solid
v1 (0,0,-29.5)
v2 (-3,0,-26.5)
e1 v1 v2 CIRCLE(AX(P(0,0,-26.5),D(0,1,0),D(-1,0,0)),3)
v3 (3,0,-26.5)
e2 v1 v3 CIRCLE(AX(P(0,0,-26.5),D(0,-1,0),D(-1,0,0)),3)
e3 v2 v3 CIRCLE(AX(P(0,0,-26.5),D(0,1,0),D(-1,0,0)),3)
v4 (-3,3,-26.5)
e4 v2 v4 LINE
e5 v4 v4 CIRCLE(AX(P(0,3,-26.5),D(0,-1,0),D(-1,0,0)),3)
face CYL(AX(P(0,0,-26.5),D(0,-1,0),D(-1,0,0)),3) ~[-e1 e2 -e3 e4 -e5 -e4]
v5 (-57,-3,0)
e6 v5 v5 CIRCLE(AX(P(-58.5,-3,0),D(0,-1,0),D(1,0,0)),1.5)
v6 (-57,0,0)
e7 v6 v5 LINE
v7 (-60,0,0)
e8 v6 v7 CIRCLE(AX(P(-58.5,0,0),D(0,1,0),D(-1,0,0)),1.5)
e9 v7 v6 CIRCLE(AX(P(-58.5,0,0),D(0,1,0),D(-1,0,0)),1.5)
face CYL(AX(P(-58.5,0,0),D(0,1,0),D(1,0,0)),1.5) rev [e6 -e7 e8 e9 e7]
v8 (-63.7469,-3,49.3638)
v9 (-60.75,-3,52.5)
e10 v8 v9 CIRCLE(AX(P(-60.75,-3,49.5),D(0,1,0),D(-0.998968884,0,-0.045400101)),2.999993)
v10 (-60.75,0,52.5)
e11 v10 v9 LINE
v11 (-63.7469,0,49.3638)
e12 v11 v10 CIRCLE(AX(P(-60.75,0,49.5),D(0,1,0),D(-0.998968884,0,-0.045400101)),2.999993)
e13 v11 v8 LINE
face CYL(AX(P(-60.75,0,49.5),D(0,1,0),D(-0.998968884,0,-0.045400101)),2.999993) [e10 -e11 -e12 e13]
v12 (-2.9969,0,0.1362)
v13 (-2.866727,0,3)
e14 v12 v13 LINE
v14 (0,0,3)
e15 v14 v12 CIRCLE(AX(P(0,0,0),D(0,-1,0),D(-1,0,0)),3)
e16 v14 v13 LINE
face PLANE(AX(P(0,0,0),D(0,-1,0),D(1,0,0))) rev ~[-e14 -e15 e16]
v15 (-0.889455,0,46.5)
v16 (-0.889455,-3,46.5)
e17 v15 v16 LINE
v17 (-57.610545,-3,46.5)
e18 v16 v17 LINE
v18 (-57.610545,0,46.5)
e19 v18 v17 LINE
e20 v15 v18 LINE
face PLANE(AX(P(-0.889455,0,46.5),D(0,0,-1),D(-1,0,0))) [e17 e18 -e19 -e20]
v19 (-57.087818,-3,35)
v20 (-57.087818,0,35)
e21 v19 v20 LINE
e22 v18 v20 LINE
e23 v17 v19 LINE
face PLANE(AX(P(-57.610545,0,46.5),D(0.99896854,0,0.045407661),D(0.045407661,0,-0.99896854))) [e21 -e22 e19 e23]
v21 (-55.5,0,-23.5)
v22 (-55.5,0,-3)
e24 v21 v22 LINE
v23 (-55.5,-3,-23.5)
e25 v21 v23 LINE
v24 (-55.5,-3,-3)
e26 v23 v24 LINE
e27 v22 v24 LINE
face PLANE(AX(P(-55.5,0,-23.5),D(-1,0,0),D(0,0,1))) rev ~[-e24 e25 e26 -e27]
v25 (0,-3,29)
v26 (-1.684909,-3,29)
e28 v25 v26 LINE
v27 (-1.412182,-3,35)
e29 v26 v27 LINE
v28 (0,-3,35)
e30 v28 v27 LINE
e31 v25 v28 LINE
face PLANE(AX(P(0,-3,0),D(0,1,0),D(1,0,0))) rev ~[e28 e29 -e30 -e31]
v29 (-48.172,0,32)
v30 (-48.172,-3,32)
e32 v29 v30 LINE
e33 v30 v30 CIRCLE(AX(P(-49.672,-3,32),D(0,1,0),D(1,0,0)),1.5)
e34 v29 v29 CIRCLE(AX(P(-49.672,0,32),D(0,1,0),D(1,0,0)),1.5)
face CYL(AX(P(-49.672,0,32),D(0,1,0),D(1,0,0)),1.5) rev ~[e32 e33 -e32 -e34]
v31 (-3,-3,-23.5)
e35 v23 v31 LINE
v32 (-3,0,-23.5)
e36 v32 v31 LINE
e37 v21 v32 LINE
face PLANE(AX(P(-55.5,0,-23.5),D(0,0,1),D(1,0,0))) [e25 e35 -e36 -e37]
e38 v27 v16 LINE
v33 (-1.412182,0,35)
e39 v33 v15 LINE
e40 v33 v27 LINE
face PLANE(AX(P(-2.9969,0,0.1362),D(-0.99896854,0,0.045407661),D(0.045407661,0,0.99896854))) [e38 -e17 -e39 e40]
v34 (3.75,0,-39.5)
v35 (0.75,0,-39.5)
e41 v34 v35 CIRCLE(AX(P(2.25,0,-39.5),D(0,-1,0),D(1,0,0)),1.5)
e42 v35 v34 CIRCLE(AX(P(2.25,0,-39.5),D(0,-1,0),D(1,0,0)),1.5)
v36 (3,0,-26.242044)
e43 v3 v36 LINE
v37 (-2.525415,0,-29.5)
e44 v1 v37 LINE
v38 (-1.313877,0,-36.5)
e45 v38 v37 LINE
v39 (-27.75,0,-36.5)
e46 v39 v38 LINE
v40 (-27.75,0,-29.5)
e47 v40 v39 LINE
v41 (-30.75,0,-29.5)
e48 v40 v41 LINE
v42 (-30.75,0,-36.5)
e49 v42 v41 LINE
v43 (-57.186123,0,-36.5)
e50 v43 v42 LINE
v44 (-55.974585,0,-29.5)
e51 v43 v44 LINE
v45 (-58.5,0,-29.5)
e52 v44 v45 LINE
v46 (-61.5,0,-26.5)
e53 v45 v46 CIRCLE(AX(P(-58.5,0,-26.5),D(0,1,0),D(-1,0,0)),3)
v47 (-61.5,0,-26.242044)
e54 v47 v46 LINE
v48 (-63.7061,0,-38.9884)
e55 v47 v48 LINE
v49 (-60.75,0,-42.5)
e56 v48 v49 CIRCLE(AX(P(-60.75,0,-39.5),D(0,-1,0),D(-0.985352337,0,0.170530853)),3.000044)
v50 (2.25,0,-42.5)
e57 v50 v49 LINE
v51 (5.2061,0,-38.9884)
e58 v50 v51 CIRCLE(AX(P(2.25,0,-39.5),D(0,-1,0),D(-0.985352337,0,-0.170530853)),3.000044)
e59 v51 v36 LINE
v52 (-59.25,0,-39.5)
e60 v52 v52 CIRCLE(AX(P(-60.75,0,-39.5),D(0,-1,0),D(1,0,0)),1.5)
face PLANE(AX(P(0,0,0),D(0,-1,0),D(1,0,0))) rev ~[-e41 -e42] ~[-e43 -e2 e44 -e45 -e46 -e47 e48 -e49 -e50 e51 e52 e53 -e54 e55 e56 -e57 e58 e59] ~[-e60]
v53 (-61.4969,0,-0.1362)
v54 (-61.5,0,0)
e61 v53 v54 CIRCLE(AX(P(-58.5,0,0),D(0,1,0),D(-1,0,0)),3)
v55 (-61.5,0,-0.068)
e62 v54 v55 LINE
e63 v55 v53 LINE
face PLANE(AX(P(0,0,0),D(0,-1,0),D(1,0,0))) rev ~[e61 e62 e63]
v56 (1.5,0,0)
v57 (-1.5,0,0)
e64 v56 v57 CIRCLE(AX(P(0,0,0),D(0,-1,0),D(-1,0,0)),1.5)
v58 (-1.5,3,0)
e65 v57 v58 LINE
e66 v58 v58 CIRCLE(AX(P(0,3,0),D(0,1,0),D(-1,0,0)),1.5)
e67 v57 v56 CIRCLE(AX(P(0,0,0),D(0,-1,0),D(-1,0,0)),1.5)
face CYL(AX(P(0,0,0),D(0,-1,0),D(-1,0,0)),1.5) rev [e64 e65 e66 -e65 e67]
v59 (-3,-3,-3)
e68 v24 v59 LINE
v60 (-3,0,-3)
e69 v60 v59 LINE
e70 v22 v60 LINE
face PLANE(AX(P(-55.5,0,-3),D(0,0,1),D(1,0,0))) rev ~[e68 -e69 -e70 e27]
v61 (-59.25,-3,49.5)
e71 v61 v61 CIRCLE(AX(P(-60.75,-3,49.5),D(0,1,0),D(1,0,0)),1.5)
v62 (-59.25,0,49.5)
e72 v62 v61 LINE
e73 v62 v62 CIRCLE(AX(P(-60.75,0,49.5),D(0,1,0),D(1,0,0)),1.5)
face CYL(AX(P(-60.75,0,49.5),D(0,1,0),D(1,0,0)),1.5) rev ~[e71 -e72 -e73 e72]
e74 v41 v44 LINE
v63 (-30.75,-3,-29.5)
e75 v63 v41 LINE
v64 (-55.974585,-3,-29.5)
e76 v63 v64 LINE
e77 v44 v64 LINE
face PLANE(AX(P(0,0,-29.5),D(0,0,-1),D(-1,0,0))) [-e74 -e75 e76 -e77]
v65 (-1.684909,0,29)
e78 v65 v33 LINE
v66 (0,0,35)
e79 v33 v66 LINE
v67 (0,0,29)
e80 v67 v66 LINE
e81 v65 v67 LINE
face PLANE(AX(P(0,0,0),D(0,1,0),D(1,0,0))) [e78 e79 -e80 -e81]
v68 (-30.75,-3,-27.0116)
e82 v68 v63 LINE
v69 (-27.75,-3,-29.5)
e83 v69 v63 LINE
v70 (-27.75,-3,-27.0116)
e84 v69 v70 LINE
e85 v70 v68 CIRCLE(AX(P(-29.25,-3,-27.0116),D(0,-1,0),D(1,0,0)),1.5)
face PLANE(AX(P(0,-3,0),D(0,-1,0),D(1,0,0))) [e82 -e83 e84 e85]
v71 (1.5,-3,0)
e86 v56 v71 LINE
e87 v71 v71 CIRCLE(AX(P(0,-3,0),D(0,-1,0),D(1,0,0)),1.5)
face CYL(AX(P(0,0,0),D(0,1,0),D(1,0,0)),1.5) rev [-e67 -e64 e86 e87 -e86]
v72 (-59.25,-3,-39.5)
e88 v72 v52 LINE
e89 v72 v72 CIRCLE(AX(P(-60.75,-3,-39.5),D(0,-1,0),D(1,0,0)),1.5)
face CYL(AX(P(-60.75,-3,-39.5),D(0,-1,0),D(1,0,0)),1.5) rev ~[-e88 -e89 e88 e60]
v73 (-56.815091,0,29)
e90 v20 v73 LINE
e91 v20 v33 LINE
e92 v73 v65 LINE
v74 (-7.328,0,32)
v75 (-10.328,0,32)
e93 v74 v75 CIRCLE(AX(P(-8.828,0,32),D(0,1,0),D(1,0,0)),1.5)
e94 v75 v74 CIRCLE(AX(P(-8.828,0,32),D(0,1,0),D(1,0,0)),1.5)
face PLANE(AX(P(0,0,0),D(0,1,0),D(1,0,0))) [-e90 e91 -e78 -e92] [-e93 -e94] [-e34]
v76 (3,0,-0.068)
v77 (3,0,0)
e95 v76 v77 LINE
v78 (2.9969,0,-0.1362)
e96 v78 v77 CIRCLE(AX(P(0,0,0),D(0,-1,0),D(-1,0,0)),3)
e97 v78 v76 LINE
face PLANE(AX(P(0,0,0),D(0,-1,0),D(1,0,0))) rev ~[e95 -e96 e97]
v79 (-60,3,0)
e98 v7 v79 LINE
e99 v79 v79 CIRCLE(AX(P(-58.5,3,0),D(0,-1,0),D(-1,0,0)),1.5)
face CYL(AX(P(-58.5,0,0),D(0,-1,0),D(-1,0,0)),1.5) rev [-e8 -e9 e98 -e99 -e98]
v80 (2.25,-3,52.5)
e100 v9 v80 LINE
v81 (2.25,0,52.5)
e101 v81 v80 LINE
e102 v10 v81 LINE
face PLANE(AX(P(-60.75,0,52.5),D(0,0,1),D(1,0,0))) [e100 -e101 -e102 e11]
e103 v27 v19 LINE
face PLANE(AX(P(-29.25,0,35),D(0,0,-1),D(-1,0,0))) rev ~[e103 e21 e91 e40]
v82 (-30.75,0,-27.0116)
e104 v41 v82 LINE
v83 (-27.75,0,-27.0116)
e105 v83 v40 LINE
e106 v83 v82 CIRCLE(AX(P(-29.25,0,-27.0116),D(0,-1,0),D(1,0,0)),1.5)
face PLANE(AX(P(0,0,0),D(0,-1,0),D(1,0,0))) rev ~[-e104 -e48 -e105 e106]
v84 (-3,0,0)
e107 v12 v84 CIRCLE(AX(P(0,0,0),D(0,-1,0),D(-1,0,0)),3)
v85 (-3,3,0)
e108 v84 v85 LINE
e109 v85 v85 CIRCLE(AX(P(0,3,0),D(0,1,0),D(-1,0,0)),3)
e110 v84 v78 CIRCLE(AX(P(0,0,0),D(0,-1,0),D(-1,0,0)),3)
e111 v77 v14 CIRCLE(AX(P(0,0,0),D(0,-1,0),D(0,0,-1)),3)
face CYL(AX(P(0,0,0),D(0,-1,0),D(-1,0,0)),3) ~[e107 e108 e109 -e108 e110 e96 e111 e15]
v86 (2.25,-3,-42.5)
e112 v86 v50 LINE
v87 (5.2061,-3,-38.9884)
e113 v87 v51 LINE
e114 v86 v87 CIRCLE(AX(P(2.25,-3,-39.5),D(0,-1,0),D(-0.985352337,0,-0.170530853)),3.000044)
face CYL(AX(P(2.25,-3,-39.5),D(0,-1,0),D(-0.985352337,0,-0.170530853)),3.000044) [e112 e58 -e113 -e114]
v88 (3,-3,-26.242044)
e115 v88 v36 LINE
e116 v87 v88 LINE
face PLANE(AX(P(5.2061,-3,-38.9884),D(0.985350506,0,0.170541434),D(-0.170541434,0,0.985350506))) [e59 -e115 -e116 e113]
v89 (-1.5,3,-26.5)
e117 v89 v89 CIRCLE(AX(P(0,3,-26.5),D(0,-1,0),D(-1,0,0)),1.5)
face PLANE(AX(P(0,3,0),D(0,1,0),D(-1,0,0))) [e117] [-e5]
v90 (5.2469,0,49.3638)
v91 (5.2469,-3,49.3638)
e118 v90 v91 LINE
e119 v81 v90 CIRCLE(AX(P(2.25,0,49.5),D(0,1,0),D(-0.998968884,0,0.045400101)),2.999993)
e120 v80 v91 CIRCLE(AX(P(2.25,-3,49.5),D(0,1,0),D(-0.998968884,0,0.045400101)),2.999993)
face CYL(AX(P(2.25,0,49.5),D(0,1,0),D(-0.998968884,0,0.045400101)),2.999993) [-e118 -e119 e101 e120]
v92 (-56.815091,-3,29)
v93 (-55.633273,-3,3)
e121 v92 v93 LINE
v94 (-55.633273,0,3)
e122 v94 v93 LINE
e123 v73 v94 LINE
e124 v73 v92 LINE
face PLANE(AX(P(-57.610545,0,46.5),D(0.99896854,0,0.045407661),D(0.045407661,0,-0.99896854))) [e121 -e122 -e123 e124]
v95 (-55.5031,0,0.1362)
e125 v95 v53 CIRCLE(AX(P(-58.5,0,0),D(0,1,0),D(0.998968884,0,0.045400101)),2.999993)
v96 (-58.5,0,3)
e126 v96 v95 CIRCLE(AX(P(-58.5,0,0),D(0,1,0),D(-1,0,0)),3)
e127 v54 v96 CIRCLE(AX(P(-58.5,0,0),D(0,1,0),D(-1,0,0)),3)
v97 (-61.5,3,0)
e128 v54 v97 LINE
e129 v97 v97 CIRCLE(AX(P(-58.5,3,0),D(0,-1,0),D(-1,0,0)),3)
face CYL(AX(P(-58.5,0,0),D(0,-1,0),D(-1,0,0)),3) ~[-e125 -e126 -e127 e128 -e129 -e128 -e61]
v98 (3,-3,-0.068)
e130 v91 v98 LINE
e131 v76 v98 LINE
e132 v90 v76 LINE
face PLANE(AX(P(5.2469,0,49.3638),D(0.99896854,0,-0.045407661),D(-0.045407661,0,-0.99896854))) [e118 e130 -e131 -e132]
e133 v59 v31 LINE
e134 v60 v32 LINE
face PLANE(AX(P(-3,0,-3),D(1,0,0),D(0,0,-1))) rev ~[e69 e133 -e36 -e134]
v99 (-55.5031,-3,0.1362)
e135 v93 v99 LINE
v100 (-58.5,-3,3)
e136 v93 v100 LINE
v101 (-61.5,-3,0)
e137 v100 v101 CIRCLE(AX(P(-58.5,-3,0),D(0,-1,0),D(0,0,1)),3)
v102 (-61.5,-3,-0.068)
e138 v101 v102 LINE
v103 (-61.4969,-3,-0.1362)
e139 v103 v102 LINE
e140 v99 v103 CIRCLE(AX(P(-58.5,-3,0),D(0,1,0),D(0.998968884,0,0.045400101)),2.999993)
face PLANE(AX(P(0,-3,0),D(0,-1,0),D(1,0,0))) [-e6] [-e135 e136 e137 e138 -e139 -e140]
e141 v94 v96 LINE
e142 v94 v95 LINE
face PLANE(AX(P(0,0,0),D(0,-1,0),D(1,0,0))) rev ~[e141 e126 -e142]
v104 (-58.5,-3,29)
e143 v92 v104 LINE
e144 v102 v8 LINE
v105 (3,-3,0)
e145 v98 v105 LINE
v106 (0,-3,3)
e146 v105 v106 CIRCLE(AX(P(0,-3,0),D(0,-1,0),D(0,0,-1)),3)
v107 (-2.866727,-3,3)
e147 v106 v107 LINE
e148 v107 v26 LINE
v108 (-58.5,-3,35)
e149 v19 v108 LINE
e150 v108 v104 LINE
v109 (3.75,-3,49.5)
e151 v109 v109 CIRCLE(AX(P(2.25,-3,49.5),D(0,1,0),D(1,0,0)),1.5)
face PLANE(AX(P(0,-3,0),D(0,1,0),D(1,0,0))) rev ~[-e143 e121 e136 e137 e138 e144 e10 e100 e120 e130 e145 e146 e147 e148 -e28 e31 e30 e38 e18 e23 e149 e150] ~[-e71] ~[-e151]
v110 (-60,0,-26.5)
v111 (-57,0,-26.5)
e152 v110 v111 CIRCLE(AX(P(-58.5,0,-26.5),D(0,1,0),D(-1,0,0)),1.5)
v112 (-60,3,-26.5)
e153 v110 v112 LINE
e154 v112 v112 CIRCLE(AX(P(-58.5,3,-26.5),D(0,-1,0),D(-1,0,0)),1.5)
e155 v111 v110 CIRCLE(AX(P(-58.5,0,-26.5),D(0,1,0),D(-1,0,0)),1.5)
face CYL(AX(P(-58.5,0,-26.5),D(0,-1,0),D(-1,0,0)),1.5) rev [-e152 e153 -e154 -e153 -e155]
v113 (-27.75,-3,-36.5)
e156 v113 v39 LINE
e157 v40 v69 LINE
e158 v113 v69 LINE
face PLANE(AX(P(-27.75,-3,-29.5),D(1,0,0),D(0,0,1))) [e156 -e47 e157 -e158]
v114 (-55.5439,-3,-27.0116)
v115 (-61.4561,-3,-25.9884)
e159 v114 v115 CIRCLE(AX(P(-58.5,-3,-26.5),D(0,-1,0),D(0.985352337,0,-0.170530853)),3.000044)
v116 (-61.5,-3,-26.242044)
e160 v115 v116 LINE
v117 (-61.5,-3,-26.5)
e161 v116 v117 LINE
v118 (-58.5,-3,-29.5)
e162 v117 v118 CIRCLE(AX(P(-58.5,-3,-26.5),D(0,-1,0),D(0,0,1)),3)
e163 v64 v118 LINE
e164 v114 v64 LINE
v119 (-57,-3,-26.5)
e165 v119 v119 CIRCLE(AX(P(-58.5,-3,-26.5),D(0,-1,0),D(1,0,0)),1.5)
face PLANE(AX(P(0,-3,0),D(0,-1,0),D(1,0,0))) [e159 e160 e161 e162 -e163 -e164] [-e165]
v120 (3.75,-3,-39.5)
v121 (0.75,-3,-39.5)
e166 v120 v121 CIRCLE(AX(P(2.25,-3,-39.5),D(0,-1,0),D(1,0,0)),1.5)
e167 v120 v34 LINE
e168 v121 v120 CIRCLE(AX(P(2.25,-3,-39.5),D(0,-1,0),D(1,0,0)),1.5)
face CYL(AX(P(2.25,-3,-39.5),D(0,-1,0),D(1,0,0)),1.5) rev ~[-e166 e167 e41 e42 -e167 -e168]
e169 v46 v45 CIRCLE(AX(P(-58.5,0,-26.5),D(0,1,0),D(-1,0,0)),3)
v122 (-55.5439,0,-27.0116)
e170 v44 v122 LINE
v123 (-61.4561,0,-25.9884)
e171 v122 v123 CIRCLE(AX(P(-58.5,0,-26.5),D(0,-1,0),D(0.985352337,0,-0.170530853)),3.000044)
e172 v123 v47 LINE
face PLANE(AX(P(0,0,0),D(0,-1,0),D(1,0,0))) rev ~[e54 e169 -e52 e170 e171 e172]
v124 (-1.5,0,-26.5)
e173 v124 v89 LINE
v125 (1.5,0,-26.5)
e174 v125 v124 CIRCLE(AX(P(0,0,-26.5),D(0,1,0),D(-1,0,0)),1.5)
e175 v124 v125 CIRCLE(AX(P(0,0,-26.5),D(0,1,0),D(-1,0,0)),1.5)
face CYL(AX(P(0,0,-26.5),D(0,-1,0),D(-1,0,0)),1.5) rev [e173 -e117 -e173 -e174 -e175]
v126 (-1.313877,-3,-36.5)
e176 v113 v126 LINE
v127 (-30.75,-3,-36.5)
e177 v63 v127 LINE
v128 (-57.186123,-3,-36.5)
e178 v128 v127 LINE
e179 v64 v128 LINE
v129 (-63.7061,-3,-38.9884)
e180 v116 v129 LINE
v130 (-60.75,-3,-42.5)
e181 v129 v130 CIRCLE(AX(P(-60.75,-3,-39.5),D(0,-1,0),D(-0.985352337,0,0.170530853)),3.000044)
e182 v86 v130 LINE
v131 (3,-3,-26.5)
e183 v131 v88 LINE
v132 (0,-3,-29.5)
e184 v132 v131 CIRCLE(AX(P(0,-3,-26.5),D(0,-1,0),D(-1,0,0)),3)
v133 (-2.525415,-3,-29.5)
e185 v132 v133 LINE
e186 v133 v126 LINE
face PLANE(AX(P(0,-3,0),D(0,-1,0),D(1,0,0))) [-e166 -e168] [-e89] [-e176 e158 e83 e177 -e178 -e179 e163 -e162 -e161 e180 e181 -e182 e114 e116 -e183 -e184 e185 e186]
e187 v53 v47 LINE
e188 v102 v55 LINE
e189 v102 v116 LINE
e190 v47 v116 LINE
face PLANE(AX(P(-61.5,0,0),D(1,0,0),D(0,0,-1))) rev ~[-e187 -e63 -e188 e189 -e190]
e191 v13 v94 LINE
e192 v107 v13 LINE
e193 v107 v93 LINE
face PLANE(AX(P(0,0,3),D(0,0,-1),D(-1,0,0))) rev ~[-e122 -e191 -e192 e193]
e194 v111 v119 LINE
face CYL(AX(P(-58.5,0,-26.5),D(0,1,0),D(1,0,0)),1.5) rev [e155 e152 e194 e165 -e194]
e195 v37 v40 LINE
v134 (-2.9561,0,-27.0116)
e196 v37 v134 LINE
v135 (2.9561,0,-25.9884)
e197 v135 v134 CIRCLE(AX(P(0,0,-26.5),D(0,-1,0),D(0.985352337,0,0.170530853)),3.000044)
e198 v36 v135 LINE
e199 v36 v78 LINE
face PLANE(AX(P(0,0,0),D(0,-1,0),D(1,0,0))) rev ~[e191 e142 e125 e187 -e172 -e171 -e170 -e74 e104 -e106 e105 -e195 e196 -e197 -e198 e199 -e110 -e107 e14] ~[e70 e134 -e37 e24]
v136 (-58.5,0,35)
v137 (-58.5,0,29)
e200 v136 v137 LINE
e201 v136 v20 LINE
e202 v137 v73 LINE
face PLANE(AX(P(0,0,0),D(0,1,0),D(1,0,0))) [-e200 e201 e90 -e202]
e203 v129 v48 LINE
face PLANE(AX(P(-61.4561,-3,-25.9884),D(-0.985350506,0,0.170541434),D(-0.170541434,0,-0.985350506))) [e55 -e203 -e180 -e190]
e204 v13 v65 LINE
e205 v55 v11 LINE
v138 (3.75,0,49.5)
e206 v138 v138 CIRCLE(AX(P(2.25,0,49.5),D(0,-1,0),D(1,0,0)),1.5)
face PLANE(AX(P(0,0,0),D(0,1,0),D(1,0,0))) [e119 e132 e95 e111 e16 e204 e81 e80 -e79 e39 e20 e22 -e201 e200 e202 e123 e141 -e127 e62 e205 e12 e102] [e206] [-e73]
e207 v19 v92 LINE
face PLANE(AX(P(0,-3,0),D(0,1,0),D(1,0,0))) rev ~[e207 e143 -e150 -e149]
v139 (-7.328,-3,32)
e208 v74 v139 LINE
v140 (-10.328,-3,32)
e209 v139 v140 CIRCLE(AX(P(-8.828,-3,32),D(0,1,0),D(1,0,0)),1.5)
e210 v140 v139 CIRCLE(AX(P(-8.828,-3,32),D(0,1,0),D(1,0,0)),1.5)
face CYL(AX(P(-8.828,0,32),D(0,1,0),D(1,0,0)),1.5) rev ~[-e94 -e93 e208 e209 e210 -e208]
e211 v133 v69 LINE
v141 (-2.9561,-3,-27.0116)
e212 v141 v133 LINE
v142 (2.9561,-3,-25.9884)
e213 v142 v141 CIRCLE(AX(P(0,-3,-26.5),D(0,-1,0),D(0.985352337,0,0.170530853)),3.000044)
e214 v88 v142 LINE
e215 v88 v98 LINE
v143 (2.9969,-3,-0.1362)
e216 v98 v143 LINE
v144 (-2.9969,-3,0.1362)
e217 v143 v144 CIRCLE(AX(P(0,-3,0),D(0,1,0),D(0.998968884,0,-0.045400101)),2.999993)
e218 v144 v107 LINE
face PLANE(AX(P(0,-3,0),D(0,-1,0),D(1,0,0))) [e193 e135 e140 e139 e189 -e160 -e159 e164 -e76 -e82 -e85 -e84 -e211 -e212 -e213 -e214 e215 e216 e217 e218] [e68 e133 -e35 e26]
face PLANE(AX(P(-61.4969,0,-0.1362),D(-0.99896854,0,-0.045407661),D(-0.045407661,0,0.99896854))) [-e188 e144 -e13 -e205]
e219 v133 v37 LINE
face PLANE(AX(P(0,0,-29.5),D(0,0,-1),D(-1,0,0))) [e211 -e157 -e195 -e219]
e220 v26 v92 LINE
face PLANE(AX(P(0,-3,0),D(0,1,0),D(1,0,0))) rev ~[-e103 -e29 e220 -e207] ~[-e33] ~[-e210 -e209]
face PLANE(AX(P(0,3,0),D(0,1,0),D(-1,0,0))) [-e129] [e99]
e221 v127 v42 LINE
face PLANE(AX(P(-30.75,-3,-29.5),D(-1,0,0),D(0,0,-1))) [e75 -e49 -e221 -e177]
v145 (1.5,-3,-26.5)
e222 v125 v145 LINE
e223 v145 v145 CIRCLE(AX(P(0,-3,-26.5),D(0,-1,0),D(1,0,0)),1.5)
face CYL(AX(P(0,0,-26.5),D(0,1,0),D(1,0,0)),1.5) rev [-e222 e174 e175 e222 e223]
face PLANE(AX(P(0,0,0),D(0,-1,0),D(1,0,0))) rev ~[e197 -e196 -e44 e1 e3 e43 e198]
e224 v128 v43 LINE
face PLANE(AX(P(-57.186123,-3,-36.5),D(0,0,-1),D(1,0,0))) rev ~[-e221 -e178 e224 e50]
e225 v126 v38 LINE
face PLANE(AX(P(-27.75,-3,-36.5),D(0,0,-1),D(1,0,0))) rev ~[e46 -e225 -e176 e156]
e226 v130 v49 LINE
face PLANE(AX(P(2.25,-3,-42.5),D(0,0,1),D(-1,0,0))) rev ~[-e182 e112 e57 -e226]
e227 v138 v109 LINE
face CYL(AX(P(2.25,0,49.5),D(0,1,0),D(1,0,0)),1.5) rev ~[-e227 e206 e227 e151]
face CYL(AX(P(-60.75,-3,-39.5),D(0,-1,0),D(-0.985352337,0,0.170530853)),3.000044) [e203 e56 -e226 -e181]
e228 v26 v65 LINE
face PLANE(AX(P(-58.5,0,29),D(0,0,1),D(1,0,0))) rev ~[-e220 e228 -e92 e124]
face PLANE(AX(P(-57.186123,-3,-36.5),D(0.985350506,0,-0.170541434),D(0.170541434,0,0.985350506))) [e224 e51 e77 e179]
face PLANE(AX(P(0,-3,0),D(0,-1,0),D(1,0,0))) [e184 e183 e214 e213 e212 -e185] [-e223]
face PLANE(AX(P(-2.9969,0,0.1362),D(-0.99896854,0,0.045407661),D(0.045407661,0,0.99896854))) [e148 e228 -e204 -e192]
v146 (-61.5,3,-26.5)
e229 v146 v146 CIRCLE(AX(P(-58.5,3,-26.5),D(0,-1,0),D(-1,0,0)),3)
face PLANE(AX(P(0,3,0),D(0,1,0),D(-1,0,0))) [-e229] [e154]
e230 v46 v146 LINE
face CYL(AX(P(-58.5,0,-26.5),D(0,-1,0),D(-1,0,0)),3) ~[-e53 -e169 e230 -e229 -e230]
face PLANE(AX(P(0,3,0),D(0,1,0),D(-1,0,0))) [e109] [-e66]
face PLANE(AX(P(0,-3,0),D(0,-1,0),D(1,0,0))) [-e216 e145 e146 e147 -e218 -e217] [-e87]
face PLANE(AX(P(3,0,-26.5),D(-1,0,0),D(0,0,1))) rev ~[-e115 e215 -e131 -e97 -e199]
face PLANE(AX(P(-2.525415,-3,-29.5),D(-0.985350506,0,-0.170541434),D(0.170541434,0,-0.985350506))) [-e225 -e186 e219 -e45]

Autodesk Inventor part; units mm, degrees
ref_plane "YZ Plane" through (0, 0, 0) normal (1, 0, 0) x (0, 1, 0)
ref_plane "XZ Plane" through (0, 0, 0) normal (0, 1, 0) x (-1, 0, 0)
ref_plane "XY Plane" through (0, 0, 0) normal (0, 0, 1) x (1, 0, 0)
sketch "Sketch1" plane through (0, 0, 0) normal (0, 1, 0) x (-1, 0, 0)
  line L0 (0, 0) -> (58.5, 0)
  line L1 (58.5, 0) -> (58.5, -26.5)
  line L2 (58.5, -26.5) -> (0, -26.5)
  line L3 (0, -26.5) -> (0, 0)
  circle A0 centre (58.5, 0) radius 1.5
  circle A1 centre (58.5, -26.5) radius 1.5
  circle A2 centre (0, 0) radius 1.5
  circle A3 centre (0, -26.5) radius 1.5
  circle A4 centre (0, 0) radius 3
  circle A5 centre (0, -26.5) radius 3
  circle A6 centre (58.5, 0) radius 3
  circle A7 centre (58.5, -26.5) radius 3
  dimension "d0" = 58.5
  dimension "d1" = 26.5
  dimension "d2" = 3
  dimension "d3" = 3
  dimension "d4" = 3
  dimension "d5" = 3
  dimension "d6" = 6
  dimension "d7" = 6
  dimension "d8" = 6
  dimension "d9" = 6
extrude "Extrusion1" add sketch "Sketch1" along normal blind 3 contours A2 L3 A4 L0 | L0 A4 L3 A2 | A6 L1 A0 L0 | L0 A0 L1 A6 | A5 L2 A3 L3 | L3 A3 L2 A5 | A7 L2 A1 L1 | L1 A1 L2 A7
sketch "Sketch2" plane through (0, 0, 0) normal (0, -1, 0) x (1, 0, 0)
  circle A0 centre (0, 0) radius 1.5
  circle A1 centre (0, -26.5) radius 1.5 projected
  circle A2 centre (0, -26.5) radius 1.5
  circle A3 centre (-58.5, -26.5) radius 1.5 projected
  circle A4 centre (-58.5, -26.5) radius 1.5
  circle A5 centre (-58.5, 0) radius 1.5 projected
  circle A6 centre (-58.5, 0) radius 1.5
  line L0 (-58.5, 0) -> (0, 0) construction
  line L1 (-58.5, -3) -> (0, -3)
  line L2 (0, 3) -> (-58.5, 3)
  arc A7 (-58.5, 3) -> (-58.5, -3) centre (-58.5, 0) ccw
  arc A8 (0, -3) -> (0, 3) centre (0, 0) ccw
  line L3 (0, 0) -> (0, -26.5) construction
  line L4 (-3, 0) -> (-3, -26.5)
  line L5 (3, -26.5) -> (3, 0)
  arc A9 (3, 0) -> (-3, 0) centre (0, 0) ccw
  arc A10 (-3, -26.5) -> (3, -26.5) centre (0, -26.5) ccw
  line L6 (0, -26.5) -> (-58.5, -26.5) construction
  line L7 (0, -29.5) -> (-58.5, -29.5)
  line L8 (-58.5, -23.5) -> (0, -23.5)
  arc A11 (0, -29.5) -> (0, -23.5) centre (0, -26.5) ccw
  arc A12 (-58.5, -23.5) -> (-58.5, -29.5) centre (-58.5, -26.5) ccw
  line L9 (-58.5, -26.5) -> (-58.5, 0) construction
  line L10 (-55.5, -26.5) -> (-55.5, 0)
  line L11 (-61.5, 0) -> (-61.5, -26.5)
  arc A13 (-61.5, -26.5) -> (-55.5, -26.5) centre (-58.5, -26.5) ccw
  arc A14 (-55.5, 0) -> (-61.5, 0) centre (-58.5, 0) ccw
  point P0 (-29.25, 0)
  point P1 (0, -13.25)
  point P2 (-29.25, -26.5)
  point P3 (-58.5, -13.25)
  point P4 (-3, -3)
  point P5 (-3, -23.5)
  point P6 (-55.5, -23.5)
  point P7 (-55.5, -3)
extrude "Extrusion2" add sketch "Sketch2" along normal blind 3 contours A7 A14 L10 L1 | L1 L10 L8 A12 L11 A7 | L10 A14 L2 A9 L4 L1 | L4 A9 A8 L1 | L1 A8 L5 A11 L8 L4 | L10 A13 A12 L8 | L8 L4 A10 L7 A13 L10 | L8 A11 A10 L4
sketch "Sketch3" plane through (0, -3, 0) normal (0, -1, 0) x (1, 0, 0)
  line L0 (-58.5, -29.5) -> (0, -29.5) projected
  line L1 (-29.25, -29.5) -> (-29.25, -39.5)
  line L2 (-60.75, -39.5) -> (2.25, -39.5)
  circle A0 centre (-60.75, -39.5) radius 1.5
  circle A1 centre (2.25, -39.5) radius 1.5
  circle A2 centre (-58.5, -26.5) radius 1.5 projected
  line L3 (-60.75, -39.5) -> (-58.5, -26.5) construction
  line L4 (-57.7939, -40.0116) -> (-55.5439, -27.0116)
  line L5 (-61.4561, -25.9884) -> (-63.7061, -38.9884)
  arc A3 (-63.7061, -38.9884) -> (-57.7939, -40.0116) centre (-60.75, -39.5) ccw
  arc A4 (-55.5439, -27.0116) -> (-61.4561, -25.9884) centre (-58.5, -26.5) ccw
  circle A5 centre (0, -26.5) radius 1.5 projected
  line L6 (2.25, -39.5) -> (0, -26.5) construction
  line L7 (5.2061, -38.9884) -> (2.9561, -25.9884)
  line L8 (-2.9561, -27.0116) -> (-0.7061, -40.0116)
  arc A6 (-0.7061, -40.0116) -> (5.2061, -38.9884) centre (2.25, -39.5) ccw
  arc A7 (2.9561, -25.9884) -> (-2.9561, -27.0116) centre (0, -26.5) ccw
  line L9 (-60.75, -39.5) -> (2.25, -39.5) construction
  line L10 (-60.75, -36.5) -> (2.25, -36.5)
  line L11 (2.25, -42.5) -> (-60.75, -42.5)
  arc A8 (-60.75, -36.5) -> (-60.75, -42.5) centre (-60.75, -39.5) ccw
  arc A9 (2.25, -42.5) -> (2.25, -36.5) centre (2.25, -39.5) ccw
  line L12 (-29.25, -39.5) -> (-29.25, -27.0116) construction
  line L13 (-27.75, -39.5) -> (-27.75, -27.0116)
  line L14 (-30.75, -27.0116) -> (-30.75, -39.5)
  arc A10 (-30.75, -39.5) -> (-27.75, -39.5) centre (-29.25, -39.5) ccw
  arc A11 (-27.75, -27.0116) -> (-30.75, -27.0116) centre (-29.25, -27.0116) ccw
  point P0 (0, 0)
  point P1 (-59.625, -33)
  point P2 (1.125, -33)
  point P3 (-29.25, -33.2558)
  point P4 (-57.1862, -36.5)
  point P5 (-1.3138, -36.5)
  point P6 (-27.75, -36.5)
  point P7 (-30.75, -36.5)
  dimension "d14" = 10
  dimension "d15" = 63
  dimension "d16" = 3
  dimension "d17" = 3
  dimension "d18" = 6
  dimension "d19" = 6
  dimension "d20" = 3
extrude "Extrusion3" add sketch "Sketch3" against normal blind 3 contours L4 L10 A8 L5 A4 | L14 A11 L13 L0 | L0 L1 L10 L14 | L10 L14 L2 L4 | L4 A3 A8 L10 | L0 L13 L10 L1 | L10 L1 L2 L14 | L2 A10 L8 A6 L11 A3 L4 | L10 L13 L2 L1 | L2 A10 | L8 A7 L7 A9 L10 | L10 L8 L2 L13 | L10 A9 A6 L8
sketch "Sketch4" plane through (0, 0, 0) normal (0, 1, 0) x (1, 0, 0)
  circle A0 centre (2.25, 39.5) radius 1.5 projected
  line L0 (2.25, 39.5) -> (2.25, -49.5)
  line L1 (2.25, -49.5) -> (-60.75, -49.5)
  circle A1 centre (2.25, -49.5) radius 1.5
  circle A2 centre (-60.75, -49.5) radius 1.5
  circle A3 centre (-58.5, 0) radius 1.5 projected
  line L2 (-60.75, -49.5) -> (-58.5, 0) construction
  line L3 (-57.7531, -49.6362) -> (-55.5031, -0.1362)
  line L4 (-61.4969, 0.1362) -> (-63.7469, -49.3638)
  arc A4 (-63.7469, -49.3638) -> (-57.7531, -49.6362) centre (-60.75, -49.5) ccw
  arc A5 (-55.5031, -0.1362) -> (-61.4969, 0.1362) centre (-58.5, 0) ccw
  line L5 (2.25, -49.5) -> (0, 0) construction
  line L6 (5.2469, -49.3638) -> (2.9969, 0.1362)
  line L7 (-2.9969, -0.1362) -> (-0.7469, -49.6362)
  arc A6 (-0.7469, -49.6362) -> (5.2469, -49.3638) centre (2.25, -49.5) ccw
  arc A7 (2.9969, 0.1362) -> (-2.9969, -0.1362) centre (0, 0) ccw
  line L8 (2.25, -49.5) -> (-60.75, -49.5) construction
  line L9 (2.25, -46.5) -> (-60.75, -46.5)
  line L10 (-60.75, -52.5) -> (2.25, -52.5)
  arc A8 (2.25, -52.5) -> (2.25, -46.5) centre (2.25, -49.5) ccw
  arc A9 (-60.75, -46.5) -> (-60.75, -52.5) centre (-60.75, -49.5) ccw
  circle A10 centre (0, 0) radius 1.5
  circle A11 centre (-58.5, 0) radius 1.5
  point P0 (-59.625, -24.75)
  point P1 (1.125, -24.75)
  point P2 (-29.25, -49.5)
  point P3 (-0.8895, -46.5)
  point P4 (-57.6105, -46.5)
  point P5 (2.25, -52.5)
  dimension "d23" = 89
  dimension "d24" = 63
  dimension "d25" = 3
  dimension "d26" = 3
  dimension "d27" = 6
  dimension "d28" = 6
extrude "Extrusion4" add sketch "Sketch4" against normal blind 3 contours A7 L6 A8 L0 | L0 L9 L7 A7 | A8 A6 L7 L1 A1 L0 | L0 A1 L1 L7 L9 | L7 L1 L3 L9 | L7 A6 L10 A4 L3 L1 | L9 A9 L4 A5 L3 | L3 A4 A9 L9
sketch "Sketch5" plane through (0, 0, 0) normal (0, 1, 0) x (1, 0, 0)
  circle A0 centre (-58.5, 0) radius 1.5 projected
  line L0 (-58.5, 0) -> (0, 0)
  line L1 (0, 0) -> (0, -35)
  line L2 (0, -35) -> (-58.5, -35)
  line L3 (-58.5, -35) -> (-58.5, 0)
  line L4 (0, -35) -> (-58.5, -35)
  line L5 (-58.5, -35) -> (-58.5, -29)
  line L6 (-58.5, -29) -> (0, -29)
  line L7 (0, -29) -> (0, -35)
  line L8 (-29.25, -29) -> (-29.25, -35)
  line L9 (-49.672, -32) -> (-8.828, -32)
  circle A1 centre (-49.672, -32) radius 1.5
  circle A2 centre (-8.828, -32) radius 1.5
  point P0 (-29.25, -32)
  point P1 (0, -29)
  dimension "d31" = 35
  dimension "d32" = 6
  dimension "d33" = 40.844
  dimension "d34" = 3
  dimension "d35" = 3
extrude "Extrusion5" add sketch "Sketch5" against normal blind 3 contours L6 L8 L2 L3 | L1 L2 L8 L6
properties part number "bigbucksupport"
